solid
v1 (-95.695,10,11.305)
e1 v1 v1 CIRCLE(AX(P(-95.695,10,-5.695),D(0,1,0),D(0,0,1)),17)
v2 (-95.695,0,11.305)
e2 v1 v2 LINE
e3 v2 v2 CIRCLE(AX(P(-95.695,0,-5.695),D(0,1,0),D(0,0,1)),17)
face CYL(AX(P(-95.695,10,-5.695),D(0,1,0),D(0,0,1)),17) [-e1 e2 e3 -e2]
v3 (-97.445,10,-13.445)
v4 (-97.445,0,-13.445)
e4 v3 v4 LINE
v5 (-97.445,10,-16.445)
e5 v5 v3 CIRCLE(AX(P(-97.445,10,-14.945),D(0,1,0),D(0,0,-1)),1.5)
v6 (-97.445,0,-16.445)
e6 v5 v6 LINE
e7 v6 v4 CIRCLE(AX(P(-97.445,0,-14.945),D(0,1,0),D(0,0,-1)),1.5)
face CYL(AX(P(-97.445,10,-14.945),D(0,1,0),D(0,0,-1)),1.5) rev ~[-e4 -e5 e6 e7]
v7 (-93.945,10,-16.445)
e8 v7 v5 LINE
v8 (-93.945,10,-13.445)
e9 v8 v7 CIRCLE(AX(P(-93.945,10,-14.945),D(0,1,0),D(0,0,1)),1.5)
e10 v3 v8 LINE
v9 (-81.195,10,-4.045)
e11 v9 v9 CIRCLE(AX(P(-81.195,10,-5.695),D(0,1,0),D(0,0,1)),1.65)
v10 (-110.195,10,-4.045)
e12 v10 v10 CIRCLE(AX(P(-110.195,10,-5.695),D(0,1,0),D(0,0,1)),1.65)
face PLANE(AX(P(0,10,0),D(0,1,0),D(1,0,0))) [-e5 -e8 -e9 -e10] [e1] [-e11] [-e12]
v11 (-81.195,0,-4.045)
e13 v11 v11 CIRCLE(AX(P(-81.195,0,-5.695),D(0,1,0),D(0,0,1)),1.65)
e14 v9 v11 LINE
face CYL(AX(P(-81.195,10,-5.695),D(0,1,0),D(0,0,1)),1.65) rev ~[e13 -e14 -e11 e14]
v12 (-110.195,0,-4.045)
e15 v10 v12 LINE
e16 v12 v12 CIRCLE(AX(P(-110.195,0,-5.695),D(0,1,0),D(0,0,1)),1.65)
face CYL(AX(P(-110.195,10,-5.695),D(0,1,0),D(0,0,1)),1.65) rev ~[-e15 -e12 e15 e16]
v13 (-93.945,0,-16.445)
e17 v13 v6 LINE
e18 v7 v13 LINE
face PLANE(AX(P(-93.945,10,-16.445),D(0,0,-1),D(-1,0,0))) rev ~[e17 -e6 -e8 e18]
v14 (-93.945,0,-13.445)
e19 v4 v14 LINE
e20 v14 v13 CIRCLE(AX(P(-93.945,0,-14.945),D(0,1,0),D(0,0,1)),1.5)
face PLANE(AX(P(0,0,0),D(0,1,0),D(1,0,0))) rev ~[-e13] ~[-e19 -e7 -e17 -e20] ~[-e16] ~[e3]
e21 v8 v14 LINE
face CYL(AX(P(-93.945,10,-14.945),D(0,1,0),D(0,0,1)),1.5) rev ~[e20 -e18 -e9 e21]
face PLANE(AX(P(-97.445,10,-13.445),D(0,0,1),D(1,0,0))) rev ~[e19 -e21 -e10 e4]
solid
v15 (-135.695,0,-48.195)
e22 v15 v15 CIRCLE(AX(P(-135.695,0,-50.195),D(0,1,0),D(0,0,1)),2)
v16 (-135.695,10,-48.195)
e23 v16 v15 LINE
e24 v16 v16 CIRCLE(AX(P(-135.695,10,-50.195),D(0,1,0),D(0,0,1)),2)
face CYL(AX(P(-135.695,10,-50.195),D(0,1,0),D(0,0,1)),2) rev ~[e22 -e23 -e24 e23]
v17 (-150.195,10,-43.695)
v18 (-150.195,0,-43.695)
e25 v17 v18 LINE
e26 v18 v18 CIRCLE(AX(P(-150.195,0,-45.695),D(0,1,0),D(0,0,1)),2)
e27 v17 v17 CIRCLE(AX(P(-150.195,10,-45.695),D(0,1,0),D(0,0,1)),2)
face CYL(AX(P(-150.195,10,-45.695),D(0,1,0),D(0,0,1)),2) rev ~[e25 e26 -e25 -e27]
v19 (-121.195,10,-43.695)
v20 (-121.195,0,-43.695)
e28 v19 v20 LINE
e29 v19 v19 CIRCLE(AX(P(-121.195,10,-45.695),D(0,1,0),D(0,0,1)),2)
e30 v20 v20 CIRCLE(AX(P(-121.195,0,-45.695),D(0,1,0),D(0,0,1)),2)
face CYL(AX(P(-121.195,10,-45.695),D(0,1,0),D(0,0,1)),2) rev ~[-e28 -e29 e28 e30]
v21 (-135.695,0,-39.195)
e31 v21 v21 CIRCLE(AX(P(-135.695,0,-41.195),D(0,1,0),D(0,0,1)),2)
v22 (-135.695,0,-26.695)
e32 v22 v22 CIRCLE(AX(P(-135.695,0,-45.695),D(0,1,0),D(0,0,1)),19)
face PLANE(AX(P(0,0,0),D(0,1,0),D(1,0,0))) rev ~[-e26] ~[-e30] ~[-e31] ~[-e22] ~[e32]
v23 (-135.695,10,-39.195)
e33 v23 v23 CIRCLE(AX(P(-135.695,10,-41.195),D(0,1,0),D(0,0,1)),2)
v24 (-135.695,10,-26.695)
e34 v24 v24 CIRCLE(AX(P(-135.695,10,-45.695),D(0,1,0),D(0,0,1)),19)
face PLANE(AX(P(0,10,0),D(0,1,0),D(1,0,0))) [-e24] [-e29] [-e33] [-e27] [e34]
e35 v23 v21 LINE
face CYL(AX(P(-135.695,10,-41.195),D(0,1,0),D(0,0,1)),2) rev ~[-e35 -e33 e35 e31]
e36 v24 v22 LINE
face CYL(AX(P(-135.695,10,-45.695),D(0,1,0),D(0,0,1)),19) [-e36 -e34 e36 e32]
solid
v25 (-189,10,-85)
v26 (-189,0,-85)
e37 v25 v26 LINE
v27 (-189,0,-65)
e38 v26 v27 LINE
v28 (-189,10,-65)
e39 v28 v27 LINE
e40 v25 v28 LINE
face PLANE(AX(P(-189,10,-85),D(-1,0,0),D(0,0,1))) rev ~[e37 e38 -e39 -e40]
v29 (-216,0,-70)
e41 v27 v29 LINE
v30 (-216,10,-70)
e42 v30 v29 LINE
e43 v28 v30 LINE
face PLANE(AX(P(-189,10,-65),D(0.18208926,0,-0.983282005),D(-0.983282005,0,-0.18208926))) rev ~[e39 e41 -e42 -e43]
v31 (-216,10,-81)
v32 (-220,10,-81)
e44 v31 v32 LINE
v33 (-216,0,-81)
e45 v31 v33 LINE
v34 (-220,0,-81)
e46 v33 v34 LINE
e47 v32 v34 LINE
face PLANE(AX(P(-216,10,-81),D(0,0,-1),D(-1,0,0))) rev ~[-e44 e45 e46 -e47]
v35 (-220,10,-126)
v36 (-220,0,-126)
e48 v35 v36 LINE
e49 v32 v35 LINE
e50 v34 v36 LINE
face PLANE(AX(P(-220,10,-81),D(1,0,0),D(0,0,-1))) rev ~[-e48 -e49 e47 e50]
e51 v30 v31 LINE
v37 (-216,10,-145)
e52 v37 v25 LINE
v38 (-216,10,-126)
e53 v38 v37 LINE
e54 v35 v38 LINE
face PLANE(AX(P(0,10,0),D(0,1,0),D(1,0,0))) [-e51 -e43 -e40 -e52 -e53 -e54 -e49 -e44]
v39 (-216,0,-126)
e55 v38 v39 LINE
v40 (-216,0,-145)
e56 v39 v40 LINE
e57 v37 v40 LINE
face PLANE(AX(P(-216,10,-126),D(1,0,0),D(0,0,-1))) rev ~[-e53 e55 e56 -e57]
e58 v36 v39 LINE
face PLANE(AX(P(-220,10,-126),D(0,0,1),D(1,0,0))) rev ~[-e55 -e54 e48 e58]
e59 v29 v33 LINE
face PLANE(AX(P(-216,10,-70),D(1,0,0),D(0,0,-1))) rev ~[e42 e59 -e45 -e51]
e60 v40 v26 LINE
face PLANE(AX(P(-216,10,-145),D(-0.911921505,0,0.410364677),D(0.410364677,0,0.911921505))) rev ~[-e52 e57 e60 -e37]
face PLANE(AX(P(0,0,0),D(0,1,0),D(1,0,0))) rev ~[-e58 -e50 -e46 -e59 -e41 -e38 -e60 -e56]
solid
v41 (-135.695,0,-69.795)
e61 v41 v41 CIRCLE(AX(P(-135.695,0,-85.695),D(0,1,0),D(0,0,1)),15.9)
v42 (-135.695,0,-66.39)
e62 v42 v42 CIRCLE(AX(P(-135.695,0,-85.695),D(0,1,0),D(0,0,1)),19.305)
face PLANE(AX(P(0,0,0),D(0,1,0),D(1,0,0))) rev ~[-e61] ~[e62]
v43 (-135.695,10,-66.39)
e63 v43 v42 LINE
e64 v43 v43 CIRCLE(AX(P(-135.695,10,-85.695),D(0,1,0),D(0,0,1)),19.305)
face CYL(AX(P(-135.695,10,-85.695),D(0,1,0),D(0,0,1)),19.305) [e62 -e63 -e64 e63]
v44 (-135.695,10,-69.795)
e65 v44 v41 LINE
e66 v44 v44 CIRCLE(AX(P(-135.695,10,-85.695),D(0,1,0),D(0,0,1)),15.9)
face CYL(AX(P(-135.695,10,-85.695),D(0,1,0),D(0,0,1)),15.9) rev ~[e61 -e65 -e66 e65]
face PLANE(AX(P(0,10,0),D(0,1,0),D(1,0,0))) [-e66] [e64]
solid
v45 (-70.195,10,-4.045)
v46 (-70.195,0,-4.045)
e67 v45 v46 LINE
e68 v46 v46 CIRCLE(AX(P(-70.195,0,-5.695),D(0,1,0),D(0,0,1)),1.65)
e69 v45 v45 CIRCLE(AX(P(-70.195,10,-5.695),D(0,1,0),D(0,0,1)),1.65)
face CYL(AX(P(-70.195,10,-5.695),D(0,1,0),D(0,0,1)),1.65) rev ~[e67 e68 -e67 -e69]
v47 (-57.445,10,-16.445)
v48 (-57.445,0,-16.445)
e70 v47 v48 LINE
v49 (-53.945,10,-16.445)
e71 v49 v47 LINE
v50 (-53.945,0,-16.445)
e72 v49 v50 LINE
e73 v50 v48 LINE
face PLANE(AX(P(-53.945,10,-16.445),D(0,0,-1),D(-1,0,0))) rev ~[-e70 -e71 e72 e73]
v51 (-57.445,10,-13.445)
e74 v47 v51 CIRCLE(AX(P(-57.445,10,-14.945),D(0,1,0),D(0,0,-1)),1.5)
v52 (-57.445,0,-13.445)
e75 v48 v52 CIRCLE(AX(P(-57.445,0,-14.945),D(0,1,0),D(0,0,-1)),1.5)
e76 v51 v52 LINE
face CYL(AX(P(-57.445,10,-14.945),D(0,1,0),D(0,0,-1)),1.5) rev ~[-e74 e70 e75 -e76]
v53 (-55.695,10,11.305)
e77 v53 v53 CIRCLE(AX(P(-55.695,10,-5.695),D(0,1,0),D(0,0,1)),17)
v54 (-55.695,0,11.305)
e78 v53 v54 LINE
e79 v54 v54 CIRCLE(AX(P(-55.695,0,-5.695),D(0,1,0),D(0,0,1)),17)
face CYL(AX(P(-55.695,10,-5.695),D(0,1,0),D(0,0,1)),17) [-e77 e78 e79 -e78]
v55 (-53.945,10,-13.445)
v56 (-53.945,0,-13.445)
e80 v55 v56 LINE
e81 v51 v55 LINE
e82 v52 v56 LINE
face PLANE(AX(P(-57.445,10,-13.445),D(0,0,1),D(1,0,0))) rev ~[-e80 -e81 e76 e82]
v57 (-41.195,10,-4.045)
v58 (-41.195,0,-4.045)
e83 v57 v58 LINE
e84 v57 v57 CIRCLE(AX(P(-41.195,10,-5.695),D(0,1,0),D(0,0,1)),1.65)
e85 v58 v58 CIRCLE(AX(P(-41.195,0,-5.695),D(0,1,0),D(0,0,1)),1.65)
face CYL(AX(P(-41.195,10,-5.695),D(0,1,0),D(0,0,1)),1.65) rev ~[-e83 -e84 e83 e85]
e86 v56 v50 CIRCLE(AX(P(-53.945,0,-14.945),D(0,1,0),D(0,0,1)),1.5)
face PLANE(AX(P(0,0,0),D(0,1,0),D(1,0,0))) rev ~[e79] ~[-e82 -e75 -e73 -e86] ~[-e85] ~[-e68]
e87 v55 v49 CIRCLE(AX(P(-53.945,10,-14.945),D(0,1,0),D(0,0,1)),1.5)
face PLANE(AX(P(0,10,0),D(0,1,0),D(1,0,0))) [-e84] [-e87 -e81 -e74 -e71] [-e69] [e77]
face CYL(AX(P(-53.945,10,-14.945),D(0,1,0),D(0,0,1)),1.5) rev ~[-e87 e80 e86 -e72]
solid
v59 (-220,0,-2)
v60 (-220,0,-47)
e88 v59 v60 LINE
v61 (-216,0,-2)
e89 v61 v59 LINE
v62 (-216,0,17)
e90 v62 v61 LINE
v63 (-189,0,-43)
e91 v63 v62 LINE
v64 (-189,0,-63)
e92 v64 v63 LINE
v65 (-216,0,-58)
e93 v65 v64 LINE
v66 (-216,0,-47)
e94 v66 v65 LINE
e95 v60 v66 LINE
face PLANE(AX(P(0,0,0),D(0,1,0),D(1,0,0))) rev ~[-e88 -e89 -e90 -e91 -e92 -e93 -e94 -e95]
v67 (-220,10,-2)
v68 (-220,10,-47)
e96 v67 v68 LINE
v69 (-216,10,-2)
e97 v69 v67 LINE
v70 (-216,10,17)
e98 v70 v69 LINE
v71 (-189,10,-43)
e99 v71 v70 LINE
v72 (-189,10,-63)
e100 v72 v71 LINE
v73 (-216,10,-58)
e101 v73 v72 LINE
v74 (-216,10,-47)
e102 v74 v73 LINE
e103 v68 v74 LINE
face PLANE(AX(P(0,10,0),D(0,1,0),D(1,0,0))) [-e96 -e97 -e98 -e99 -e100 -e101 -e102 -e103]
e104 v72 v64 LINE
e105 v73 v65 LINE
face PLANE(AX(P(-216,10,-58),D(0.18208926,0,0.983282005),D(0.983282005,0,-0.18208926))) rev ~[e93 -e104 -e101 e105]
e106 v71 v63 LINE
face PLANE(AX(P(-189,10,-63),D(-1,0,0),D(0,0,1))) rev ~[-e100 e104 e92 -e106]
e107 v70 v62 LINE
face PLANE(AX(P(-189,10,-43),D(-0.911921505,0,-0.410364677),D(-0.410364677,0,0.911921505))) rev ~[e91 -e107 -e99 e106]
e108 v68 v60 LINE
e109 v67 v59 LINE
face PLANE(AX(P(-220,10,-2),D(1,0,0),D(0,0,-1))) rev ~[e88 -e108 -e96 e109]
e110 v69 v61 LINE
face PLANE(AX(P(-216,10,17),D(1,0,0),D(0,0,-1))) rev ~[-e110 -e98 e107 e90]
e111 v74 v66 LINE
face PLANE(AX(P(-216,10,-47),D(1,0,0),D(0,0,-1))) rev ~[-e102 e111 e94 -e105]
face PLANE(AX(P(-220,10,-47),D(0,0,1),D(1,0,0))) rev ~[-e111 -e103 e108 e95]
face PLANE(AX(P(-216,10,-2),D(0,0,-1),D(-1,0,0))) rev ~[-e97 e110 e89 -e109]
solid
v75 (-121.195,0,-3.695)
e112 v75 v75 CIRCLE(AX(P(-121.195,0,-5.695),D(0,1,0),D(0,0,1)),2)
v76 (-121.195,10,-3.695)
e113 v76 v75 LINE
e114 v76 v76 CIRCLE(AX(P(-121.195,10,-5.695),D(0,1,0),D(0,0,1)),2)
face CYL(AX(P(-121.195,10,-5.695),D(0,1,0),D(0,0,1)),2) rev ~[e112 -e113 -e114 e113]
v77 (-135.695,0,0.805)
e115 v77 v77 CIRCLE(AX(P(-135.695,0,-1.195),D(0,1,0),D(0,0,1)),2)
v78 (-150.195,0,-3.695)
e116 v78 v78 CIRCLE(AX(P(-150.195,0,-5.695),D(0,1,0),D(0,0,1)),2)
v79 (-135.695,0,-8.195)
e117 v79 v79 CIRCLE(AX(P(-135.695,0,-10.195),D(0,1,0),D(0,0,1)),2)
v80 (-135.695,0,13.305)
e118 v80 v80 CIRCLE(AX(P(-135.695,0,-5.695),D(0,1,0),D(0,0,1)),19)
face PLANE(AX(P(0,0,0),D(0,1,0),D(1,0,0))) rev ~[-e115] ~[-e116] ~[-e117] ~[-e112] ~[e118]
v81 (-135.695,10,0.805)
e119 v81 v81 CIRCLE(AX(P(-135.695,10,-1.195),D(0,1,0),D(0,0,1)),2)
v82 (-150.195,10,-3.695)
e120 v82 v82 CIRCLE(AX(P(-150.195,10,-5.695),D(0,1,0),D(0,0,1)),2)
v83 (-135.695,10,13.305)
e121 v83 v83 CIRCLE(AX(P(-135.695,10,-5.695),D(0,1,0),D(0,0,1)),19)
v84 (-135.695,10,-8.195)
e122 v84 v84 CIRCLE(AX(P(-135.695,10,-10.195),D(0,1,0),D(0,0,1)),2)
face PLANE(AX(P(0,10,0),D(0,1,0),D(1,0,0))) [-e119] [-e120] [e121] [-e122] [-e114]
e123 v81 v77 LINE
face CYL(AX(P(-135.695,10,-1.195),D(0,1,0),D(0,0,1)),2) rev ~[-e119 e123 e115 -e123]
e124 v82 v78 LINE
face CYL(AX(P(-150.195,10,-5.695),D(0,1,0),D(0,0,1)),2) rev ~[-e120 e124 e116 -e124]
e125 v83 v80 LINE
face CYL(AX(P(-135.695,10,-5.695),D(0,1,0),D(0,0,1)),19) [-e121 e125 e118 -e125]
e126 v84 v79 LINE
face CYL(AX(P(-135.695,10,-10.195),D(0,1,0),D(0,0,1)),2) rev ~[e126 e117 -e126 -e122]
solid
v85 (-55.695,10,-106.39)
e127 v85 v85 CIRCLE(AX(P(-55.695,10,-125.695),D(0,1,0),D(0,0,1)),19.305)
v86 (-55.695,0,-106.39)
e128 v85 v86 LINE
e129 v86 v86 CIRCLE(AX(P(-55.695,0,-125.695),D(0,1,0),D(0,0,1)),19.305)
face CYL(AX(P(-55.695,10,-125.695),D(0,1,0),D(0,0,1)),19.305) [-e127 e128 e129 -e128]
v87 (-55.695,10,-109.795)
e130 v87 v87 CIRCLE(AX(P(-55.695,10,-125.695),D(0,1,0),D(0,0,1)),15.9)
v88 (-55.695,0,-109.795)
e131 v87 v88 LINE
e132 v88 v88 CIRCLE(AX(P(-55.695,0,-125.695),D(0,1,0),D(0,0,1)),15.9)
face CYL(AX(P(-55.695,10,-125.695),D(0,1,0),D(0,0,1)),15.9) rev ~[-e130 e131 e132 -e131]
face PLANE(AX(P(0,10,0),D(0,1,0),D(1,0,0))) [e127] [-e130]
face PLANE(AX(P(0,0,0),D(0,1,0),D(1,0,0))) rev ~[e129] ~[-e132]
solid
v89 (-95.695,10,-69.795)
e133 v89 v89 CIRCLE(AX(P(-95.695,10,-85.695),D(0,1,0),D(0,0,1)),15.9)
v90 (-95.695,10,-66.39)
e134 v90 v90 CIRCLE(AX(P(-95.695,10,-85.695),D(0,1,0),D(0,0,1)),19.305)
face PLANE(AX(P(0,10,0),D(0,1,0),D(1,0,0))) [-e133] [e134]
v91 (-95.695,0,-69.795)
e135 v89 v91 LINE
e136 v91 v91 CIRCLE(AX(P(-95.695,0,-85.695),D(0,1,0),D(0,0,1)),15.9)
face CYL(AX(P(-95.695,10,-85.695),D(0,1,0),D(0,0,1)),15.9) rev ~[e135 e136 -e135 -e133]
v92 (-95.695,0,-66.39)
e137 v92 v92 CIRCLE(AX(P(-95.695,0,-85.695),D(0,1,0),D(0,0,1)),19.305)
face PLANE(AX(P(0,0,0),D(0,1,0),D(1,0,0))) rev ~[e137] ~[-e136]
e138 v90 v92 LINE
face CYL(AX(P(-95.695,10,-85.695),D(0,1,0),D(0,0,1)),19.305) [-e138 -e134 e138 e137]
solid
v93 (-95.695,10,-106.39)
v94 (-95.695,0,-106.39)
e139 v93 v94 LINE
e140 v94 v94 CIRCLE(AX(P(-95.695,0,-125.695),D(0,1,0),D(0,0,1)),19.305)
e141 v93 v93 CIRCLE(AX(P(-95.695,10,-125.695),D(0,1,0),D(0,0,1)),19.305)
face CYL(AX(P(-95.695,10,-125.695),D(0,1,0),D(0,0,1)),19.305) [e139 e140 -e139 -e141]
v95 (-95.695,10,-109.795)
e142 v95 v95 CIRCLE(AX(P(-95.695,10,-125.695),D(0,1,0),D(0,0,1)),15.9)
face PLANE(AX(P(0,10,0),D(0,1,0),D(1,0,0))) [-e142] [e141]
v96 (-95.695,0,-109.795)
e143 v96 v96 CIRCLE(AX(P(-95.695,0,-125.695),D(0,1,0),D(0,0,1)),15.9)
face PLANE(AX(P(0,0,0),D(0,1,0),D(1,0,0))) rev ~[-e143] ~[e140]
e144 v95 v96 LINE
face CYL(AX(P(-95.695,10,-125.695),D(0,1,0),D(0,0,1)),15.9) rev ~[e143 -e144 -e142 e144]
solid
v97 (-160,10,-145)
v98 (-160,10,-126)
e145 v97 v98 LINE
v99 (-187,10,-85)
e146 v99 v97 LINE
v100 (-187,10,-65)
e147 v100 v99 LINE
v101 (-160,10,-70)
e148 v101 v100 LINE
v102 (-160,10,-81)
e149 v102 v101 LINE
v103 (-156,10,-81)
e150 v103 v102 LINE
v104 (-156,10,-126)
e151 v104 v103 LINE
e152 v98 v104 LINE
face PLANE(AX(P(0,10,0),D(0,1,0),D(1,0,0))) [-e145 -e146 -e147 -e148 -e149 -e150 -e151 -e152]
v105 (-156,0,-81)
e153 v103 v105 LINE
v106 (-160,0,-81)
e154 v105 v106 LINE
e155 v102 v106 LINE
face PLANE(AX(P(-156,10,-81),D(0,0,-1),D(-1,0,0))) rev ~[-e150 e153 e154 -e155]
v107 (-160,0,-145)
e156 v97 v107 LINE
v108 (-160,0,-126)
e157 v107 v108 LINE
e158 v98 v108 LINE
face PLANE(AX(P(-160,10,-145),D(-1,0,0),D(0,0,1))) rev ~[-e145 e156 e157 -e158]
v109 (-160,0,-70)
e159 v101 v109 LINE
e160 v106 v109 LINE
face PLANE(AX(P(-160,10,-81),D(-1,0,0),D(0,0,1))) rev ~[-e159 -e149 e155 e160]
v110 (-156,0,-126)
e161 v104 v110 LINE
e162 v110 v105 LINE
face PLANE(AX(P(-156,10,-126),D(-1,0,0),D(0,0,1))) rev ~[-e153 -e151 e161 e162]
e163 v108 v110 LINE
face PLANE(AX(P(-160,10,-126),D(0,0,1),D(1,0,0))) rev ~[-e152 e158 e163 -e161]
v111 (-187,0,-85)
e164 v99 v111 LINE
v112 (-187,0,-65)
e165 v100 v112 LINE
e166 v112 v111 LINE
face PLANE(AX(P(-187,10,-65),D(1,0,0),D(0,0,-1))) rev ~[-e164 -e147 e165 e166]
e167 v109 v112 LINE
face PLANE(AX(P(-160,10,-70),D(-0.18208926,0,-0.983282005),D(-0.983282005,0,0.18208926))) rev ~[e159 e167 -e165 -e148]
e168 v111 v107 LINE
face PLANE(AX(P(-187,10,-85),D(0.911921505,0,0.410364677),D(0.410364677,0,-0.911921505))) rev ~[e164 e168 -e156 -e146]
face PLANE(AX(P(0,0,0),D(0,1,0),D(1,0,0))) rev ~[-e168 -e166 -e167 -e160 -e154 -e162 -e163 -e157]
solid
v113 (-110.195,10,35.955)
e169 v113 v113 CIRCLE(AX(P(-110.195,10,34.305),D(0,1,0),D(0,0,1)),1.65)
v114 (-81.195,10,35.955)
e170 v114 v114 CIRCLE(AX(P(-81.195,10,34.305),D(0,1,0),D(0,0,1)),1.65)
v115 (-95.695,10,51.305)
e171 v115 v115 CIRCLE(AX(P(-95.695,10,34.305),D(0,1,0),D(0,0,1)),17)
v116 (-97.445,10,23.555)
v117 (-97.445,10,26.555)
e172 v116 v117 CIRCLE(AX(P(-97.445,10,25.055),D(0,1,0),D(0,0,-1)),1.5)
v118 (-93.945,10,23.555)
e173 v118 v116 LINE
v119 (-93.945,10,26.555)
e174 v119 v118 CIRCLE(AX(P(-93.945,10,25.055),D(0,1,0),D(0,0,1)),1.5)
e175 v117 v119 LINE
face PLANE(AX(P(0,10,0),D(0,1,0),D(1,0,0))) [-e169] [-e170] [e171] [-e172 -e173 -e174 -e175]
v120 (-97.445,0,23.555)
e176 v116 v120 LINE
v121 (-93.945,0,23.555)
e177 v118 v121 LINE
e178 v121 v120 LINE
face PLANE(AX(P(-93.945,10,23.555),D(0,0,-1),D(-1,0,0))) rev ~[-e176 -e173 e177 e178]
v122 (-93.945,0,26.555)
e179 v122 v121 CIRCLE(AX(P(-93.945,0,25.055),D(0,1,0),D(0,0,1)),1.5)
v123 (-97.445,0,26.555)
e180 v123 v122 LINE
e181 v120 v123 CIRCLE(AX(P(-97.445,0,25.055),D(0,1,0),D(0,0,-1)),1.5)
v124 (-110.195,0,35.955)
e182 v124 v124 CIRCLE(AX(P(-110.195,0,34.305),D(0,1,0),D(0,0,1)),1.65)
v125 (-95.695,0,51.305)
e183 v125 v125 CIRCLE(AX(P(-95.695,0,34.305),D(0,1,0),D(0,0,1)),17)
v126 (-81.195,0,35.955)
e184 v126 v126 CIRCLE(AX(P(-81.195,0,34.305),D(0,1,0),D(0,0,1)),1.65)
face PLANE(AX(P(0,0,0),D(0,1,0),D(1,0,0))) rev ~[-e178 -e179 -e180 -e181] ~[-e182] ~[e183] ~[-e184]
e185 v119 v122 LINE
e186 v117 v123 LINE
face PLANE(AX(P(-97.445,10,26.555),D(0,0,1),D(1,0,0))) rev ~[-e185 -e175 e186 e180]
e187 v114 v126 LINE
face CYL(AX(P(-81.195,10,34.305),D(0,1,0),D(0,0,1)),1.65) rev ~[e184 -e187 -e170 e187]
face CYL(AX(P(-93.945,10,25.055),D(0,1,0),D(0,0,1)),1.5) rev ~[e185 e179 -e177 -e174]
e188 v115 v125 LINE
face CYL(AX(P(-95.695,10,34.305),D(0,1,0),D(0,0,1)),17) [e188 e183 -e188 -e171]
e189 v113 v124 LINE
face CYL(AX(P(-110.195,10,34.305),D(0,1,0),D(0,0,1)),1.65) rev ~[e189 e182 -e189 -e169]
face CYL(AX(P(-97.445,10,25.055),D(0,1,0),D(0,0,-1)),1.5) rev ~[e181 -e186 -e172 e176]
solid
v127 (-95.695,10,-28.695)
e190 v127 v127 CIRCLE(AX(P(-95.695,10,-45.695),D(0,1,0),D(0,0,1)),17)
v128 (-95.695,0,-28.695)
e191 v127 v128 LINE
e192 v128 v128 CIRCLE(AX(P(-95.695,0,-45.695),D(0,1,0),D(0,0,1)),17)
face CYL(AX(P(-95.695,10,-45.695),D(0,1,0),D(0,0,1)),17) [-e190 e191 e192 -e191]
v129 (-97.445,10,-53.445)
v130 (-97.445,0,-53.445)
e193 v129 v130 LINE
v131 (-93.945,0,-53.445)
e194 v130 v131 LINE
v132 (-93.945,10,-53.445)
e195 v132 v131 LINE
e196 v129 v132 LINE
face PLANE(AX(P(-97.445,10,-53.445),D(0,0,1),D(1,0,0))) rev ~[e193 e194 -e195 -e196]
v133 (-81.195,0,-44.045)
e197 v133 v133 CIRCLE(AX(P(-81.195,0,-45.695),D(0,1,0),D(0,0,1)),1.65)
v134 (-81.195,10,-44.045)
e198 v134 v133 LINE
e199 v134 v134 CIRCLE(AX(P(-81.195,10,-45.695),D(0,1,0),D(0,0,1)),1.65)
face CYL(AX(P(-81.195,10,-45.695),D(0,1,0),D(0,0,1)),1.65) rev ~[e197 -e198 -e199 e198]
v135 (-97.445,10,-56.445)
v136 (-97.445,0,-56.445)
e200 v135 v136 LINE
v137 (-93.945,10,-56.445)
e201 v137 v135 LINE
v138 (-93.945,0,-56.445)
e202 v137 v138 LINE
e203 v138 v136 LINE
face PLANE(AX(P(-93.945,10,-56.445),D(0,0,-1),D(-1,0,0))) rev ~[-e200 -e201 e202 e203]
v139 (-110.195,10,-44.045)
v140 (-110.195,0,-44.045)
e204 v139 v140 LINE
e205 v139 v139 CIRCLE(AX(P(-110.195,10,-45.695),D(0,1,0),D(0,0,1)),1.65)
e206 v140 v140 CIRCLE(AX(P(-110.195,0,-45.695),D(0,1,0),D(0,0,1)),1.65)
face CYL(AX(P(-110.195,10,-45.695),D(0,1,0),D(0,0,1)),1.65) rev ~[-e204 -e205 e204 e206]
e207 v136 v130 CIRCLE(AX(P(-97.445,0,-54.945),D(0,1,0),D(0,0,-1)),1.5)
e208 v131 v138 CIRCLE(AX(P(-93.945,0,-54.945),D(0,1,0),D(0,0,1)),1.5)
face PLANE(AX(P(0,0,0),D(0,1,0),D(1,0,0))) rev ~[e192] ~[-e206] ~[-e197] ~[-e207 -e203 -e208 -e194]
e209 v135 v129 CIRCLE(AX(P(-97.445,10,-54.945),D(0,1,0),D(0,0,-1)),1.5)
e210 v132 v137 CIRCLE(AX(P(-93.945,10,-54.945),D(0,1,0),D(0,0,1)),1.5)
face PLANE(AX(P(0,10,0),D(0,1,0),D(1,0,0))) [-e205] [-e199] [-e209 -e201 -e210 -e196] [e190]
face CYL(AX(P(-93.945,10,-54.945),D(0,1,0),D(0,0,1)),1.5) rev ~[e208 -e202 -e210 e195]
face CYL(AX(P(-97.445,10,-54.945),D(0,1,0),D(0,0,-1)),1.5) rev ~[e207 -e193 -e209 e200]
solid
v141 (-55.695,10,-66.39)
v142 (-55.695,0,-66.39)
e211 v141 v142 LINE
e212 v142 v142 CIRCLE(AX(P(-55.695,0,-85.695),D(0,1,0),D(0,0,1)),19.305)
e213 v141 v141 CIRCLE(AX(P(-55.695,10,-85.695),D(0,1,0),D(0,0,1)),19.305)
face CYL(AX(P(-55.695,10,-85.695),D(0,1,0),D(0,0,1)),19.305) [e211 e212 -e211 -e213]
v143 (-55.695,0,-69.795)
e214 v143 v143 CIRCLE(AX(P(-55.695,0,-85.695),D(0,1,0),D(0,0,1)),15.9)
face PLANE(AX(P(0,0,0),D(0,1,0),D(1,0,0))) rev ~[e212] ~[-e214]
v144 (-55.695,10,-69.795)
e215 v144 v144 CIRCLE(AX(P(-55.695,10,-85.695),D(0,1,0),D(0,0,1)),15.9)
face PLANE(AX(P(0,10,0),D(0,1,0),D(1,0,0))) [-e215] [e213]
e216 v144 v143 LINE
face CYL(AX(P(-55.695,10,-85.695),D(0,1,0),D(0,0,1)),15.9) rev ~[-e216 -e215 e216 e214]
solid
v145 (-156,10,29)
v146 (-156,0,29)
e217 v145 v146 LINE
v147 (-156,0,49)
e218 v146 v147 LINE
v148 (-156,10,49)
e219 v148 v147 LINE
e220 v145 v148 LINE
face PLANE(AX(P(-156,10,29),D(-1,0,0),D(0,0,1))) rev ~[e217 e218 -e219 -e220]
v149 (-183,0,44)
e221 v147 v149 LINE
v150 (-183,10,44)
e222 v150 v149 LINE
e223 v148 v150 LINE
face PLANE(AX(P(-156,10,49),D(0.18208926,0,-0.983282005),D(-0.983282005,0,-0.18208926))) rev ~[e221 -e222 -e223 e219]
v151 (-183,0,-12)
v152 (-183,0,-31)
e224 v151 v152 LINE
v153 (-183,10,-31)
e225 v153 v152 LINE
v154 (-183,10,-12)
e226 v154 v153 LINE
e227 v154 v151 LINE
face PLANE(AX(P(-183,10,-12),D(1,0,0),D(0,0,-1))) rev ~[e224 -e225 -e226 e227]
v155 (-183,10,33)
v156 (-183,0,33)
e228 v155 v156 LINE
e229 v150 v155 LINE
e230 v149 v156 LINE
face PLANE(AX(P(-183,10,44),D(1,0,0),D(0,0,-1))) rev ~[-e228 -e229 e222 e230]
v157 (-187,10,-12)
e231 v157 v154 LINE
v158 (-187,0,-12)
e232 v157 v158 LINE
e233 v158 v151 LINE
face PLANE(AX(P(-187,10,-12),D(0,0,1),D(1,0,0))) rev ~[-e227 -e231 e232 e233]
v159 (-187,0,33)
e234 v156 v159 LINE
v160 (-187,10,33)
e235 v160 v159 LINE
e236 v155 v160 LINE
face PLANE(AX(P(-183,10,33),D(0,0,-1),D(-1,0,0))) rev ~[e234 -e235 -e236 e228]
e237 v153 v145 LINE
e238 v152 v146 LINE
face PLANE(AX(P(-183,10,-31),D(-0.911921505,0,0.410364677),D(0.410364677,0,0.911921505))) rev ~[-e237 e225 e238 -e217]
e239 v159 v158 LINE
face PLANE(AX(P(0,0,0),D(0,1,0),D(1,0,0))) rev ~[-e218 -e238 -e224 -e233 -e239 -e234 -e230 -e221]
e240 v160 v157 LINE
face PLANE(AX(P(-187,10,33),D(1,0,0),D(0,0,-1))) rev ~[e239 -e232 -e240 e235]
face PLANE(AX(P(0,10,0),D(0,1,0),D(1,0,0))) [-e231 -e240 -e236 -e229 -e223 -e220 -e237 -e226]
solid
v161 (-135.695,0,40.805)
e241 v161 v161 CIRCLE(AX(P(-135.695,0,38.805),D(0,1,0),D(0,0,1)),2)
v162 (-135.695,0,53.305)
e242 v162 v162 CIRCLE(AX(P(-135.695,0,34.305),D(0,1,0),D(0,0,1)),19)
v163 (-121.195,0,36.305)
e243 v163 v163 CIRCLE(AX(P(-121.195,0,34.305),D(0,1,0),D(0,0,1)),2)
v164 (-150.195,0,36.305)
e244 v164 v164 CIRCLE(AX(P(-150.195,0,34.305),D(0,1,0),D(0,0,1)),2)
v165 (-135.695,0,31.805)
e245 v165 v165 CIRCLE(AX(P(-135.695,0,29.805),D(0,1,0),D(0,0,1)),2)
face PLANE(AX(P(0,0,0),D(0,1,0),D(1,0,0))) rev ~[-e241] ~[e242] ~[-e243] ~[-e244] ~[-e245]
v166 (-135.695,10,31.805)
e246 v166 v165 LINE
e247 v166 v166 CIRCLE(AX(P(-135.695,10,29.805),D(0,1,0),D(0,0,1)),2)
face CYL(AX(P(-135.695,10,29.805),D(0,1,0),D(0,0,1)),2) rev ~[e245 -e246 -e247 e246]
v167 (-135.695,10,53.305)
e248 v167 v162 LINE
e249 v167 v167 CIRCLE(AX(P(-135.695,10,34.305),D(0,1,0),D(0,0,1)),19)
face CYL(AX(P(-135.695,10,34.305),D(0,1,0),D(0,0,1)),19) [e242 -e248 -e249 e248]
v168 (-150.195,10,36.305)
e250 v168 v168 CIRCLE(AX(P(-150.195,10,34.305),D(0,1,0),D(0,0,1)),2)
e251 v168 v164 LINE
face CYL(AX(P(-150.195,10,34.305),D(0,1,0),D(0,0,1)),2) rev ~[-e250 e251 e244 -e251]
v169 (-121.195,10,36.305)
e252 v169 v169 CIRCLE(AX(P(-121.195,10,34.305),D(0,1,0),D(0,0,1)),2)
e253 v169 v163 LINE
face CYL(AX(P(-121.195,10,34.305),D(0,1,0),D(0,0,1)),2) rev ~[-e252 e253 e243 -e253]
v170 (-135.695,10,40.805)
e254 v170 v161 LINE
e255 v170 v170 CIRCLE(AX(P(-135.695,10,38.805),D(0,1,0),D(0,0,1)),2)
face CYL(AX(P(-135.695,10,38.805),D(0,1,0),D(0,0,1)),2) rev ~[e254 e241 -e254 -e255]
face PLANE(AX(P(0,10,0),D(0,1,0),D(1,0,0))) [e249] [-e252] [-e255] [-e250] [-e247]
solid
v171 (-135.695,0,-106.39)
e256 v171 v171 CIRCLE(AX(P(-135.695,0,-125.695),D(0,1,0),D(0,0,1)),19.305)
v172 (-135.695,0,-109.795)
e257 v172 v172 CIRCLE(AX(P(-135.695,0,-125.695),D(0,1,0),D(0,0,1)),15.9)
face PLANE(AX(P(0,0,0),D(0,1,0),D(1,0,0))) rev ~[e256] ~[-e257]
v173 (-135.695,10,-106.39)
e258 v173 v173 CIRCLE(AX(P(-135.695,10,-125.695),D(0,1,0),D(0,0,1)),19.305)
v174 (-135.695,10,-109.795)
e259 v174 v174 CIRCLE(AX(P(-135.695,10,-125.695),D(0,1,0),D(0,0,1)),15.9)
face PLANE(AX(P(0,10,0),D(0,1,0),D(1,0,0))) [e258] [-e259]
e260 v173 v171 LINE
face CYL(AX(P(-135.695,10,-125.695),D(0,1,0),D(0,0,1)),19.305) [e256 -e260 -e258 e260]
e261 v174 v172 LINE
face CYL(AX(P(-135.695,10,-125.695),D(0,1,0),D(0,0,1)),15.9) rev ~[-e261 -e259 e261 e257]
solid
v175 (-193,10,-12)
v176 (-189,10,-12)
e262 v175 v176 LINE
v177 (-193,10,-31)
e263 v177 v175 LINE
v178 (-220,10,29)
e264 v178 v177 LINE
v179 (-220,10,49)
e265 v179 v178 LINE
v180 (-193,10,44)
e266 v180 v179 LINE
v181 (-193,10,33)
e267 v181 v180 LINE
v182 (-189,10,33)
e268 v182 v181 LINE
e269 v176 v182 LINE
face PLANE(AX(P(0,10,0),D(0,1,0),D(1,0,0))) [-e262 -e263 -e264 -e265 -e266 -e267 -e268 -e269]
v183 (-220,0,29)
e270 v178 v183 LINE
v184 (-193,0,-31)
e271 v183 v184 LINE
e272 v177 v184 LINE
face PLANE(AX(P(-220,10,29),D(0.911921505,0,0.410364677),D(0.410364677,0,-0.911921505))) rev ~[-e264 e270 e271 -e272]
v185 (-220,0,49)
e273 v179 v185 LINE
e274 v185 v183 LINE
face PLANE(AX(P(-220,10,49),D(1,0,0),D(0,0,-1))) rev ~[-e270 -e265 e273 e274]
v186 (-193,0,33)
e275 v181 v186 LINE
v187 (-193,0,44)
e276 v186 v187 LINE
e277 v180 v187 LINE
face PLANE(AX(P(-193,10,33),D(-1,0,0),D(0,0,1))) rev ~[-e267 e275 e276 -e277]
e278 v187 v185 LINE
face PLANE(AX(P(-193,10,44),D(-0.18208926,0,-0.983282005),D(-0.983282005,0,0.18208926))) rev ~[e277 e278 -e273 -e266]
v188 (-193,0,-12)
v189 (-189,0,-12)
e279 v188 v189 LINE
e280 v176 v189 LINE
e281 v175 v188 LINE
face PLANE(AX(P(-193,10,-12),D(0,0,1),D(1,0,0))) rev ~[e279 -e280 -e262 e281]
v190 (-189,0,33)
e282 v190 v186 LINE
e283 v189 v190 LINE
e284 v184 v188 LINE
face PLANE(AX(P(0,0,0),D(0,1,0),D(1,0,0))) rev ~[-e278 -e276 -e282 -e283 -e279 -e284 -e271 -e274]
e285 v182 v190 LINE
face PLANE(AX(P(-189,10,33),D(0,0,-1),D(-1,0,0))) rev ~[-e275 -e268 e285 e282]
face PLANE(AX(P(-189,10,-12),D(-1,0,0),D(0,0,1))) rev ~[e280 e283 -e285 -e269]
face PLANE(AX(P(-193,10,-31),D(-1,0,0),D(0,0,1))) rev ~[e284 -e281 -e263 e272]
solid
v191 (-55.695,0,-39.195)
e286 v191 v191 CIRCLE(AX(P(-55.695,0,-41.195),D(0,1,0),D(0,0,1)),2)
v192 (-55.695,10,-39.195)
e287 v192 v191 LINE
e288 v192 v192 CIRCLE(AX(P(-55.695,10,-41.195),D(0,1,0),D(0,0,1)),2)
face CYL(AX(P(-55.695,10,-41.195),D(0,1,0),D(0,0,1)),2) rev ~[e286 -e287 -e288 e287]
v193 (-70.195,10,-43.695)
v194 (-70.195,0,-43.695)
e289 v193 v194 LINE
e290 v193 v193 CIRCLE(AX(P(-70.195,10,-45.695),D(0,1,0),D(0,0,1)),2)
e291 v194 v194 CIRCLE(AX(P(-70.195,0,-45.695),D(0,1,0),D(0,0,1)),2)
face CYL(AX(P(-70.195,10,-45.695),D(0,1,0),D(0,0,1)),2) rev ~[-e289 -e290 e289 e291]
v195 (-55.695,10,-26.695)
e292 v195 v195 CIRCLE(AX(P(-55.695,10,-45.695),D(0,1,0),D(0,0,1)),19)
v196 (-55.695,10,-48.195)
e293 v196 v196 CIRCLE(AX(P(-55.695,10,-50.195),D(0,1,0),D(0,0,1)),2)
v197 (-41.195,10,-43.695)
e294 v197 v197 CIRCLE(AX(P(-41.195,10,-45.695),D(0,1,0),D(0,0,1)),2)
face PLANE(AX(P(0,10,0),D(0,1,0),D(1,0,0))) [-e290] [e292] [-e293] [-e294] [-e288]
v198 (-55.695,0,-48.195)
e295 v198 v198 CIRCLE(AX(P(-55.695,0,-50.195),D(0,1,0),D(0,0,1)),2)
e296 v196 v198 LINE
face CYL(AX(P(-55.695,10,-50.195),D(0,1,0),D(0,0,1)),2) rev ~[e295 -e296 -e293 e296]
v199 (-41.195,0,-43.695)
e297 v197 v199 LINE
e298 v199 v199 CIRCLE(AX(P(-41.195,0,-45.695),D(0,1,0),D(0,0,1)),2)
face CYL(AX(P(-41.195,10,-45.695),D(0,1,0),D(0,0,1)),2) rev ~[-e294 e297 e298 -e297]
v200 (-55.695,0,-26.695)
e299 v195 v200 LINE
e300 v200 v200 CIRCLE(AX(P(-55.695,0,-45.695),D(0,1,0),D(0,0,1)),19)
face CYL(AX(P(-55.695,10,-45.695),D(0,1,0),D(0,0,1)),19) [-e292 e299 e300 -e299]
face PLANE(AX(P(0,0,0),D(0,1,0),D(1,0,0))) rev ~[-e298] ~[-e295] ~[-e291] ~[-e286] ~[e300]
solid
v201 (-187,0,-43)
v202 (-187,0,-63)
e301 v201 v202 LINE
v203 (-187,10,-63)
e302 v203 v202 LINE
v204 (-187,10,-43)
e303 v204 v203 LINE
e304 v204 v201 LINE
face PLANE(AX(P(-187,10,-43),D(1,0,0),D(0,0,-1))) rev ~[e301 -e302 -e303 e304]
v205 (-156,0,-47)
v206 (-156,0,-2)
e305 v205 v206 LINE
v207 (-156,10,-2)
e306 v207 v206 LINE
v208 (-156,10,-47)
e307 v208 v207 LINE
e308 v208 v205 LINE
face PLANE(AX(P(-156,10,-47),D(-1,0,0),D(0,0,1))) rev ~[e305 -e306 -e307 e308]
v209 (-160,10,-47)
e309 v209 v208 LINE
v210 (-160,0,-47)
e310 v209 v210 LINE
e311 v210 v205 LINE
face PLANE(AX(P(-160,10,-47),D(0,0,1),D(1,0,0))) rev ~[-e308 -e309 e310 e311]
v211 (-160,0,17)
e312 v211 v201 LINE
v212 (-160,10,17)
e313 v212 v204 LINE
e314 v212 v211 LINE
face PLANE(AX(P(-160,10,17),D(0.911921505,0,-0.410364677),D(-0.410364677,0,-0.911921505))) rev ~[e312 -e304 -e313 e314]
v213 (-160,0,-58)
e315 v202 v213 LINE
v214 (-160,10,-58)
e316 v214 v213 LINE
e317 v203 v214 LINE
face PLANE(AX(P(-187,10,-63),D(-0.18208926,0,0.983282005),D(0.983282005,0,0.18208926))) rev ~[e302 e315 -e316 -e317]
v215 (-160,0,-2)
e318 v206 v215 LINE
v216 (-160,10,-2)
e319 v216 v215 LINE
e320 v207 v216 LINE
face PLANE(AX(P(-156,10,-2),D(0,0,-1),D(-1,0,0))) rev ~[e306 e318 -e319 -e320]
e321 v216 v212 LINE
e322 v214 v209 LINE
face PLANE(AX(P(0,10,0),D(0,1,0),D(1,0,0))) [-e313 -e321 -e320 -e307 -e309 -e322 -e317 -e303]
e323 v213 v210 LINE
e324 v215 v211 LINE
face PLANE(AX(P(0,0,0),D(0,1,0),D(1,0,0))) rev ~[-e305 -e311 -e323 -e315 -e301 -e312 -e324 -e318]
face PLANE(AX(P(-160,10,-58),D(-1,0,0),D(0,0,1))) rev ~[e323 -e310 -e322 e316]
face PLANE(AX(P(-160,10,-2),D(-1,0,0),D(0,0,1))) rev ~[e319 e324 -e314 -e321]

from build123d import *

# Parameters (mm, degrees)
SKETCH1_W           = 450
SKETCH1_H           = 300
BOSS_EXTRUDE1_DEPTH = 10
SKETCH3_W           = 450
SKETCH3_H           = 300
SKETCH3_R           = 19.305
SKETCH3_R_2         = 19
SKETCH3_R_3         = 17
SKETCH3_R_4         = 15.9
SKETCH3_R_5         = 2
SKETCH3_R_6         = 1.65
CUT_EXTRUDE1_DEPTH  = 10


with BuildPart() as part:
    # Sketch1 → Boss-Extrude1 (new body)
    with BuildSketch(Plane(origin=(0, 0, 0), x_dir=(1, 0, 0), z_dir=(0, 1, 0))):
        Rectangle(SKETCH1_W, SKETCH1_H)
    extrude(amount=BOSS_EXTRUDE1_DEPTH)

    # Sketch3 → Cut-Extrude1 (cut)
    with BuildSketch(Plane(origin=(0, 10, 0), x_dir=(1, 0, 0), z_dir=(0, 1, 0))):
        Rectangle(SKETCH3_W, SKETCH3_H)
        Polygon((-216, 126), (-216, 145), (-189, 85), (-189, 65), (-216, 70), (-216, 81), (-220, 81), (-220, 126), align=None, mode=Mode.SUBTRACT)
        Polygon((-220, 2), (-220, 47), (-216, 47), (-216, 58), (-189, 63), (-189, 43), (-216, -17), (-216, 2), align=None, mode=Mode.SUBTRACT)
        Polygon((-220, -49), (-220, -29), (-193, 31), (-193, 12), (-189, 12), (-189, -33), (-193, -33), (-193, -44), align=None, mode=Mode.SUBTRACT)
        Polygon((-156, 126), (-156, 81), (-160, 81), (-160, 70), (-187, 65), (-187, 85), (-160, 145), (-160, 126), align=None, mode=Mode.SUBTRACT)
        with Locations(Location((-135.695, 125.695, 0), (0, 0, 270))):
            Circle(SKETCH3_R, mode=Mode.SUBTRACT)
        with Locations(Location((-95.695, 85.695, 0), (0, 0, 270))):
            Circle(SKETCH3_R, mode=Mode.SUBTRACT)
        with Locations(Location((-55.695, 85.695, 0), (0, 0, 270))):
            Circle(SKETCH3_R, mode=Mode.SUBTRACT)
        with Locations(Location((-95.695, 125.695, 0), (0, 0, 270))):
            Circle(SKETCH3_R, mode=Mode.SUBTRACT)
        with Locations(Location((-55.695, 125.695, 0), (0, 0, 270))):
            Circle(SKETCH3_R, mode=Mode.SUBTRACT)
        Polygon((-183, -44), (-183, -33), (-187, -33), (-187, 12), (-183, 12), (-183, 31), (-156, -29), (-156, -49), align=None, mode=Mode.SUBTRACT)
        with Locations(Location((-135.695, -34.305, 0), (0, 0, 270))):
            Circle(SKETCH3_R_2, mode=Mode.SUBTRACT)
        Polygon((-160, -17), (-187, 43), (-187, 63), (-160, 58), (-160, 47), (-156, 47), (-156, 2), (-160, 2), align=None, mode=Mode.SUBTRACT)
        with Locations(Location((-135.695, 5.695, 0), (0, 0, 270))):
            Circle(SKETCH3_R_2, mode=Mode.SUBTRACT)
        with Locations(Location((-135.695, 45.695, 0), (0, 0, 270))):
            Circle(SKETCH3_R_2, mode=Mode.SUBTRACT)
        with Locations(Location((-95.695, -34.305, 0), (0, 0, 270))):
            Circle(SKETCH3_R_3, mode=Mode.SUBTRACT)
        with Locations(Location((-95.695, 5.695, 0), (0, 0, 270))):
            Circle(SKETCH3_R_3, mode=Mode.SUBTRACT)
        with Locations(Location((-95.695, 45.695, 0), (0, 0, 270))):
            Circle(SKETCH3_R_3, mode=Mode.SUBTRACT)
        with Locations(Location((-55.695, 5.695, 0), (0, 0, 270))):
            Circle(SKETCH3_R_3, mode=Mode.SUBTRACT)
        with Locations(Location((-55.695, 45.695, 0), (0, 0, 270))):
            Circle(SKETCH3_R_2, mode=Mode.SUBTRACT)
        with Locations(Location((-135.695, 85.695, 0), (0, 0, 270))):
            Circle(SKETCH3_R, mode=Mode.SUBTRACT)
        with BuildLine():
            Line((-93.945, 56.445), (-97.445, 56.445))
            ThreePointArc((-97.445, 56.445), (-98.945, 54.945), (-97.445, 53.445))
            Line((-97.445, 53.445), (-93.945, 53.445))
            ThreePointArc((-93.945, 53.445), (-92.445, 54.945), (-93.945, 56.445))
        make_face()
        with BuildLine():
            Line((-93.945, 16.445), (-97.445, 16.445))
            ThreePointArc((-97.445, 16.445), (-98.945, 14.945), (-97.445, 13.445))
            Line((-97.445, 13.445), (-93.945, 13.445))
            ThreePointArc((-93.945, 13.445), (-92.445, 14.945), (-93.945, 16.445))
        make_face()
        with BuildLine():
            Line((-93.945, -23.555), (-97.445, -23.555))
            ThreePointArc((-97.445, -23.555), (-98.945, -25.055), (-97.445, -26.555))
            Line((-97.445, -26.555), (-93.945, -26.555))
            ThreePointArc((-93.945, -26.555), (-92.445, -25.055), (-93.945, -23.555))
        make_face()
        with BuildLine():
            Line((-53.945, 16.445), (-57.445, 16.445))
            ThreePointArc((-57.445, 16.445), (-58.945, 14.945), (-57.445, 13.445))
            Line((-57.445, 13.445), (-53.945, 13.445))
            ThreePointArc((-53.945, 13.445), (-52.445, 14.945), (-53.945, 16.445))
        make_face()
        with Locations(Location((-135.695, 125.695, 0), (0, 0, 270))):
            Circle(SKETCH3_R_4)
        with Locations(Location((-95.695, 125.695, 0), (0, 0, 270))):
            Circle(SKETCH3_R_4)
        with Locations(Location((-95.695, 85.695, 0), (0, 0, 270))):
            Circle(SKETCH3_R_4)
        with Locations(Location((-135.695, 85.695, 0), (0, 0, 270))):
            Circle(SKETCH3_R_4)
        with Locations(Location((-121.195, 45.695, 0), (0, 0, 270))):
            Circle(SKETCH3_R_5)
        with Locations(Location((-150.195, 45.695, 0), (0, 0, 270))):
            Circle(SKETCH3_R_5)
        with Locations(Location((-135.695, 50.195, 0), (0, 0, 270))):
            Circle(SKETCH3_R_5)
        with Locations(Location((-135.695, 41.195, 0), (0, 0, 270))):
            Circle(SKETCH3_R_5)
        with Locations(Location((-81.195, 45.695, 0), (0, 0, 270))):
            Circle(SKETCH3_R_6)
        with Locations(Location((-110.195, 45.695, 0), (0, 0, 270))):
            Circle(SKETCH3_R_6)
        with Locations(Location((-55.695, 125.695, 0), (0, 0, 270))):
            Circle(SKETCH3_R_4)
        with Locations(Location((-55.695, 85.695, 0), (0, 0, 270))):
            Circle(SKETCH3_R_4)
        with Locations(Location((-135.695, 1.195, 0), (0, 0, 270))):
            Circle(SKETCH3_R_5)
        with Locations(Location((-150.195, 5.695, 0), (0, 0, 270))):
            Circle(SKETCH3_R_5)
        with Locations(Location((-121.195, 5.695, 0), (0, 0, 270))):
            Circle(SKETCH3_R_5)
        with Locations(Location((-135.695, 10.195, 0), (0, 0, 270))):
            Circle(SKETCH3_R_5)
        with Locations(Location((-110.195, 5.695, 0), (0, 0, 270))):
            Circle(SKETCH3_R_6)
        with Locations(Location((-81.195, 5.695, 0), (0, 0, 270))):
            Circle(SKETCH3_R_6)
        with Locations(Location((-135.695, -38.805, 0), (0, 0, 270))):
            Circle(SKETCH3_R_5)
        with Locations(Location((-150.195, -34.305, 0), (0, 0, 270))):
            Circle(SKETCH3_R_5)
        with Locations(Location((-121.195, -34.305, 0), (0, 0, 270))):
            Circle(SKETCH3_R_5)
        with Locations(Location((-135.695, -29.805, 0), (0, 0, 270))):
            Circle(SKETCH3_R_5)
        with Locations(Location((-110.195, -34.305, 0), (0, 0, 270))):
            Circle(SKETCH3_R_6)
        with Locations(Location((-81.195, -34.305, 0), (0, 0, 270))):
            Circle(SKETCH3_R_6)
        with Locations(Location((-55.695, 50.195, 0), (0, 0, 270))):
            Circle(SKETCH3_R_5)
        with Locations(Location((-41.195, 45.695, 0), (0, 0, 270))):
            Circle(SKETCH3_R_5)
        with Locations(Location((-55.695, 41.195, 0), (0, 0, 270))):
            Circle(SKETCH3_R_5)
        with Locations(Location((-70.195, 45.695, 0), (0, 0, 270))):
            Circle(SKETCH3_R_5)
        with Locations(Location((-41.195, 5.695, 0), (0, 0, 270))):
            Circle(SKETCH3_R_6)
        with Locations(Location((-70.195, 5.695, 0), (0, 0, 270))):
            Circle(SKETCH3_R_6)
    extrude(amount=-CUT_EXTRUDE1_DEPTH, mode=Mode.SUBTRACT)


solid = part.part
